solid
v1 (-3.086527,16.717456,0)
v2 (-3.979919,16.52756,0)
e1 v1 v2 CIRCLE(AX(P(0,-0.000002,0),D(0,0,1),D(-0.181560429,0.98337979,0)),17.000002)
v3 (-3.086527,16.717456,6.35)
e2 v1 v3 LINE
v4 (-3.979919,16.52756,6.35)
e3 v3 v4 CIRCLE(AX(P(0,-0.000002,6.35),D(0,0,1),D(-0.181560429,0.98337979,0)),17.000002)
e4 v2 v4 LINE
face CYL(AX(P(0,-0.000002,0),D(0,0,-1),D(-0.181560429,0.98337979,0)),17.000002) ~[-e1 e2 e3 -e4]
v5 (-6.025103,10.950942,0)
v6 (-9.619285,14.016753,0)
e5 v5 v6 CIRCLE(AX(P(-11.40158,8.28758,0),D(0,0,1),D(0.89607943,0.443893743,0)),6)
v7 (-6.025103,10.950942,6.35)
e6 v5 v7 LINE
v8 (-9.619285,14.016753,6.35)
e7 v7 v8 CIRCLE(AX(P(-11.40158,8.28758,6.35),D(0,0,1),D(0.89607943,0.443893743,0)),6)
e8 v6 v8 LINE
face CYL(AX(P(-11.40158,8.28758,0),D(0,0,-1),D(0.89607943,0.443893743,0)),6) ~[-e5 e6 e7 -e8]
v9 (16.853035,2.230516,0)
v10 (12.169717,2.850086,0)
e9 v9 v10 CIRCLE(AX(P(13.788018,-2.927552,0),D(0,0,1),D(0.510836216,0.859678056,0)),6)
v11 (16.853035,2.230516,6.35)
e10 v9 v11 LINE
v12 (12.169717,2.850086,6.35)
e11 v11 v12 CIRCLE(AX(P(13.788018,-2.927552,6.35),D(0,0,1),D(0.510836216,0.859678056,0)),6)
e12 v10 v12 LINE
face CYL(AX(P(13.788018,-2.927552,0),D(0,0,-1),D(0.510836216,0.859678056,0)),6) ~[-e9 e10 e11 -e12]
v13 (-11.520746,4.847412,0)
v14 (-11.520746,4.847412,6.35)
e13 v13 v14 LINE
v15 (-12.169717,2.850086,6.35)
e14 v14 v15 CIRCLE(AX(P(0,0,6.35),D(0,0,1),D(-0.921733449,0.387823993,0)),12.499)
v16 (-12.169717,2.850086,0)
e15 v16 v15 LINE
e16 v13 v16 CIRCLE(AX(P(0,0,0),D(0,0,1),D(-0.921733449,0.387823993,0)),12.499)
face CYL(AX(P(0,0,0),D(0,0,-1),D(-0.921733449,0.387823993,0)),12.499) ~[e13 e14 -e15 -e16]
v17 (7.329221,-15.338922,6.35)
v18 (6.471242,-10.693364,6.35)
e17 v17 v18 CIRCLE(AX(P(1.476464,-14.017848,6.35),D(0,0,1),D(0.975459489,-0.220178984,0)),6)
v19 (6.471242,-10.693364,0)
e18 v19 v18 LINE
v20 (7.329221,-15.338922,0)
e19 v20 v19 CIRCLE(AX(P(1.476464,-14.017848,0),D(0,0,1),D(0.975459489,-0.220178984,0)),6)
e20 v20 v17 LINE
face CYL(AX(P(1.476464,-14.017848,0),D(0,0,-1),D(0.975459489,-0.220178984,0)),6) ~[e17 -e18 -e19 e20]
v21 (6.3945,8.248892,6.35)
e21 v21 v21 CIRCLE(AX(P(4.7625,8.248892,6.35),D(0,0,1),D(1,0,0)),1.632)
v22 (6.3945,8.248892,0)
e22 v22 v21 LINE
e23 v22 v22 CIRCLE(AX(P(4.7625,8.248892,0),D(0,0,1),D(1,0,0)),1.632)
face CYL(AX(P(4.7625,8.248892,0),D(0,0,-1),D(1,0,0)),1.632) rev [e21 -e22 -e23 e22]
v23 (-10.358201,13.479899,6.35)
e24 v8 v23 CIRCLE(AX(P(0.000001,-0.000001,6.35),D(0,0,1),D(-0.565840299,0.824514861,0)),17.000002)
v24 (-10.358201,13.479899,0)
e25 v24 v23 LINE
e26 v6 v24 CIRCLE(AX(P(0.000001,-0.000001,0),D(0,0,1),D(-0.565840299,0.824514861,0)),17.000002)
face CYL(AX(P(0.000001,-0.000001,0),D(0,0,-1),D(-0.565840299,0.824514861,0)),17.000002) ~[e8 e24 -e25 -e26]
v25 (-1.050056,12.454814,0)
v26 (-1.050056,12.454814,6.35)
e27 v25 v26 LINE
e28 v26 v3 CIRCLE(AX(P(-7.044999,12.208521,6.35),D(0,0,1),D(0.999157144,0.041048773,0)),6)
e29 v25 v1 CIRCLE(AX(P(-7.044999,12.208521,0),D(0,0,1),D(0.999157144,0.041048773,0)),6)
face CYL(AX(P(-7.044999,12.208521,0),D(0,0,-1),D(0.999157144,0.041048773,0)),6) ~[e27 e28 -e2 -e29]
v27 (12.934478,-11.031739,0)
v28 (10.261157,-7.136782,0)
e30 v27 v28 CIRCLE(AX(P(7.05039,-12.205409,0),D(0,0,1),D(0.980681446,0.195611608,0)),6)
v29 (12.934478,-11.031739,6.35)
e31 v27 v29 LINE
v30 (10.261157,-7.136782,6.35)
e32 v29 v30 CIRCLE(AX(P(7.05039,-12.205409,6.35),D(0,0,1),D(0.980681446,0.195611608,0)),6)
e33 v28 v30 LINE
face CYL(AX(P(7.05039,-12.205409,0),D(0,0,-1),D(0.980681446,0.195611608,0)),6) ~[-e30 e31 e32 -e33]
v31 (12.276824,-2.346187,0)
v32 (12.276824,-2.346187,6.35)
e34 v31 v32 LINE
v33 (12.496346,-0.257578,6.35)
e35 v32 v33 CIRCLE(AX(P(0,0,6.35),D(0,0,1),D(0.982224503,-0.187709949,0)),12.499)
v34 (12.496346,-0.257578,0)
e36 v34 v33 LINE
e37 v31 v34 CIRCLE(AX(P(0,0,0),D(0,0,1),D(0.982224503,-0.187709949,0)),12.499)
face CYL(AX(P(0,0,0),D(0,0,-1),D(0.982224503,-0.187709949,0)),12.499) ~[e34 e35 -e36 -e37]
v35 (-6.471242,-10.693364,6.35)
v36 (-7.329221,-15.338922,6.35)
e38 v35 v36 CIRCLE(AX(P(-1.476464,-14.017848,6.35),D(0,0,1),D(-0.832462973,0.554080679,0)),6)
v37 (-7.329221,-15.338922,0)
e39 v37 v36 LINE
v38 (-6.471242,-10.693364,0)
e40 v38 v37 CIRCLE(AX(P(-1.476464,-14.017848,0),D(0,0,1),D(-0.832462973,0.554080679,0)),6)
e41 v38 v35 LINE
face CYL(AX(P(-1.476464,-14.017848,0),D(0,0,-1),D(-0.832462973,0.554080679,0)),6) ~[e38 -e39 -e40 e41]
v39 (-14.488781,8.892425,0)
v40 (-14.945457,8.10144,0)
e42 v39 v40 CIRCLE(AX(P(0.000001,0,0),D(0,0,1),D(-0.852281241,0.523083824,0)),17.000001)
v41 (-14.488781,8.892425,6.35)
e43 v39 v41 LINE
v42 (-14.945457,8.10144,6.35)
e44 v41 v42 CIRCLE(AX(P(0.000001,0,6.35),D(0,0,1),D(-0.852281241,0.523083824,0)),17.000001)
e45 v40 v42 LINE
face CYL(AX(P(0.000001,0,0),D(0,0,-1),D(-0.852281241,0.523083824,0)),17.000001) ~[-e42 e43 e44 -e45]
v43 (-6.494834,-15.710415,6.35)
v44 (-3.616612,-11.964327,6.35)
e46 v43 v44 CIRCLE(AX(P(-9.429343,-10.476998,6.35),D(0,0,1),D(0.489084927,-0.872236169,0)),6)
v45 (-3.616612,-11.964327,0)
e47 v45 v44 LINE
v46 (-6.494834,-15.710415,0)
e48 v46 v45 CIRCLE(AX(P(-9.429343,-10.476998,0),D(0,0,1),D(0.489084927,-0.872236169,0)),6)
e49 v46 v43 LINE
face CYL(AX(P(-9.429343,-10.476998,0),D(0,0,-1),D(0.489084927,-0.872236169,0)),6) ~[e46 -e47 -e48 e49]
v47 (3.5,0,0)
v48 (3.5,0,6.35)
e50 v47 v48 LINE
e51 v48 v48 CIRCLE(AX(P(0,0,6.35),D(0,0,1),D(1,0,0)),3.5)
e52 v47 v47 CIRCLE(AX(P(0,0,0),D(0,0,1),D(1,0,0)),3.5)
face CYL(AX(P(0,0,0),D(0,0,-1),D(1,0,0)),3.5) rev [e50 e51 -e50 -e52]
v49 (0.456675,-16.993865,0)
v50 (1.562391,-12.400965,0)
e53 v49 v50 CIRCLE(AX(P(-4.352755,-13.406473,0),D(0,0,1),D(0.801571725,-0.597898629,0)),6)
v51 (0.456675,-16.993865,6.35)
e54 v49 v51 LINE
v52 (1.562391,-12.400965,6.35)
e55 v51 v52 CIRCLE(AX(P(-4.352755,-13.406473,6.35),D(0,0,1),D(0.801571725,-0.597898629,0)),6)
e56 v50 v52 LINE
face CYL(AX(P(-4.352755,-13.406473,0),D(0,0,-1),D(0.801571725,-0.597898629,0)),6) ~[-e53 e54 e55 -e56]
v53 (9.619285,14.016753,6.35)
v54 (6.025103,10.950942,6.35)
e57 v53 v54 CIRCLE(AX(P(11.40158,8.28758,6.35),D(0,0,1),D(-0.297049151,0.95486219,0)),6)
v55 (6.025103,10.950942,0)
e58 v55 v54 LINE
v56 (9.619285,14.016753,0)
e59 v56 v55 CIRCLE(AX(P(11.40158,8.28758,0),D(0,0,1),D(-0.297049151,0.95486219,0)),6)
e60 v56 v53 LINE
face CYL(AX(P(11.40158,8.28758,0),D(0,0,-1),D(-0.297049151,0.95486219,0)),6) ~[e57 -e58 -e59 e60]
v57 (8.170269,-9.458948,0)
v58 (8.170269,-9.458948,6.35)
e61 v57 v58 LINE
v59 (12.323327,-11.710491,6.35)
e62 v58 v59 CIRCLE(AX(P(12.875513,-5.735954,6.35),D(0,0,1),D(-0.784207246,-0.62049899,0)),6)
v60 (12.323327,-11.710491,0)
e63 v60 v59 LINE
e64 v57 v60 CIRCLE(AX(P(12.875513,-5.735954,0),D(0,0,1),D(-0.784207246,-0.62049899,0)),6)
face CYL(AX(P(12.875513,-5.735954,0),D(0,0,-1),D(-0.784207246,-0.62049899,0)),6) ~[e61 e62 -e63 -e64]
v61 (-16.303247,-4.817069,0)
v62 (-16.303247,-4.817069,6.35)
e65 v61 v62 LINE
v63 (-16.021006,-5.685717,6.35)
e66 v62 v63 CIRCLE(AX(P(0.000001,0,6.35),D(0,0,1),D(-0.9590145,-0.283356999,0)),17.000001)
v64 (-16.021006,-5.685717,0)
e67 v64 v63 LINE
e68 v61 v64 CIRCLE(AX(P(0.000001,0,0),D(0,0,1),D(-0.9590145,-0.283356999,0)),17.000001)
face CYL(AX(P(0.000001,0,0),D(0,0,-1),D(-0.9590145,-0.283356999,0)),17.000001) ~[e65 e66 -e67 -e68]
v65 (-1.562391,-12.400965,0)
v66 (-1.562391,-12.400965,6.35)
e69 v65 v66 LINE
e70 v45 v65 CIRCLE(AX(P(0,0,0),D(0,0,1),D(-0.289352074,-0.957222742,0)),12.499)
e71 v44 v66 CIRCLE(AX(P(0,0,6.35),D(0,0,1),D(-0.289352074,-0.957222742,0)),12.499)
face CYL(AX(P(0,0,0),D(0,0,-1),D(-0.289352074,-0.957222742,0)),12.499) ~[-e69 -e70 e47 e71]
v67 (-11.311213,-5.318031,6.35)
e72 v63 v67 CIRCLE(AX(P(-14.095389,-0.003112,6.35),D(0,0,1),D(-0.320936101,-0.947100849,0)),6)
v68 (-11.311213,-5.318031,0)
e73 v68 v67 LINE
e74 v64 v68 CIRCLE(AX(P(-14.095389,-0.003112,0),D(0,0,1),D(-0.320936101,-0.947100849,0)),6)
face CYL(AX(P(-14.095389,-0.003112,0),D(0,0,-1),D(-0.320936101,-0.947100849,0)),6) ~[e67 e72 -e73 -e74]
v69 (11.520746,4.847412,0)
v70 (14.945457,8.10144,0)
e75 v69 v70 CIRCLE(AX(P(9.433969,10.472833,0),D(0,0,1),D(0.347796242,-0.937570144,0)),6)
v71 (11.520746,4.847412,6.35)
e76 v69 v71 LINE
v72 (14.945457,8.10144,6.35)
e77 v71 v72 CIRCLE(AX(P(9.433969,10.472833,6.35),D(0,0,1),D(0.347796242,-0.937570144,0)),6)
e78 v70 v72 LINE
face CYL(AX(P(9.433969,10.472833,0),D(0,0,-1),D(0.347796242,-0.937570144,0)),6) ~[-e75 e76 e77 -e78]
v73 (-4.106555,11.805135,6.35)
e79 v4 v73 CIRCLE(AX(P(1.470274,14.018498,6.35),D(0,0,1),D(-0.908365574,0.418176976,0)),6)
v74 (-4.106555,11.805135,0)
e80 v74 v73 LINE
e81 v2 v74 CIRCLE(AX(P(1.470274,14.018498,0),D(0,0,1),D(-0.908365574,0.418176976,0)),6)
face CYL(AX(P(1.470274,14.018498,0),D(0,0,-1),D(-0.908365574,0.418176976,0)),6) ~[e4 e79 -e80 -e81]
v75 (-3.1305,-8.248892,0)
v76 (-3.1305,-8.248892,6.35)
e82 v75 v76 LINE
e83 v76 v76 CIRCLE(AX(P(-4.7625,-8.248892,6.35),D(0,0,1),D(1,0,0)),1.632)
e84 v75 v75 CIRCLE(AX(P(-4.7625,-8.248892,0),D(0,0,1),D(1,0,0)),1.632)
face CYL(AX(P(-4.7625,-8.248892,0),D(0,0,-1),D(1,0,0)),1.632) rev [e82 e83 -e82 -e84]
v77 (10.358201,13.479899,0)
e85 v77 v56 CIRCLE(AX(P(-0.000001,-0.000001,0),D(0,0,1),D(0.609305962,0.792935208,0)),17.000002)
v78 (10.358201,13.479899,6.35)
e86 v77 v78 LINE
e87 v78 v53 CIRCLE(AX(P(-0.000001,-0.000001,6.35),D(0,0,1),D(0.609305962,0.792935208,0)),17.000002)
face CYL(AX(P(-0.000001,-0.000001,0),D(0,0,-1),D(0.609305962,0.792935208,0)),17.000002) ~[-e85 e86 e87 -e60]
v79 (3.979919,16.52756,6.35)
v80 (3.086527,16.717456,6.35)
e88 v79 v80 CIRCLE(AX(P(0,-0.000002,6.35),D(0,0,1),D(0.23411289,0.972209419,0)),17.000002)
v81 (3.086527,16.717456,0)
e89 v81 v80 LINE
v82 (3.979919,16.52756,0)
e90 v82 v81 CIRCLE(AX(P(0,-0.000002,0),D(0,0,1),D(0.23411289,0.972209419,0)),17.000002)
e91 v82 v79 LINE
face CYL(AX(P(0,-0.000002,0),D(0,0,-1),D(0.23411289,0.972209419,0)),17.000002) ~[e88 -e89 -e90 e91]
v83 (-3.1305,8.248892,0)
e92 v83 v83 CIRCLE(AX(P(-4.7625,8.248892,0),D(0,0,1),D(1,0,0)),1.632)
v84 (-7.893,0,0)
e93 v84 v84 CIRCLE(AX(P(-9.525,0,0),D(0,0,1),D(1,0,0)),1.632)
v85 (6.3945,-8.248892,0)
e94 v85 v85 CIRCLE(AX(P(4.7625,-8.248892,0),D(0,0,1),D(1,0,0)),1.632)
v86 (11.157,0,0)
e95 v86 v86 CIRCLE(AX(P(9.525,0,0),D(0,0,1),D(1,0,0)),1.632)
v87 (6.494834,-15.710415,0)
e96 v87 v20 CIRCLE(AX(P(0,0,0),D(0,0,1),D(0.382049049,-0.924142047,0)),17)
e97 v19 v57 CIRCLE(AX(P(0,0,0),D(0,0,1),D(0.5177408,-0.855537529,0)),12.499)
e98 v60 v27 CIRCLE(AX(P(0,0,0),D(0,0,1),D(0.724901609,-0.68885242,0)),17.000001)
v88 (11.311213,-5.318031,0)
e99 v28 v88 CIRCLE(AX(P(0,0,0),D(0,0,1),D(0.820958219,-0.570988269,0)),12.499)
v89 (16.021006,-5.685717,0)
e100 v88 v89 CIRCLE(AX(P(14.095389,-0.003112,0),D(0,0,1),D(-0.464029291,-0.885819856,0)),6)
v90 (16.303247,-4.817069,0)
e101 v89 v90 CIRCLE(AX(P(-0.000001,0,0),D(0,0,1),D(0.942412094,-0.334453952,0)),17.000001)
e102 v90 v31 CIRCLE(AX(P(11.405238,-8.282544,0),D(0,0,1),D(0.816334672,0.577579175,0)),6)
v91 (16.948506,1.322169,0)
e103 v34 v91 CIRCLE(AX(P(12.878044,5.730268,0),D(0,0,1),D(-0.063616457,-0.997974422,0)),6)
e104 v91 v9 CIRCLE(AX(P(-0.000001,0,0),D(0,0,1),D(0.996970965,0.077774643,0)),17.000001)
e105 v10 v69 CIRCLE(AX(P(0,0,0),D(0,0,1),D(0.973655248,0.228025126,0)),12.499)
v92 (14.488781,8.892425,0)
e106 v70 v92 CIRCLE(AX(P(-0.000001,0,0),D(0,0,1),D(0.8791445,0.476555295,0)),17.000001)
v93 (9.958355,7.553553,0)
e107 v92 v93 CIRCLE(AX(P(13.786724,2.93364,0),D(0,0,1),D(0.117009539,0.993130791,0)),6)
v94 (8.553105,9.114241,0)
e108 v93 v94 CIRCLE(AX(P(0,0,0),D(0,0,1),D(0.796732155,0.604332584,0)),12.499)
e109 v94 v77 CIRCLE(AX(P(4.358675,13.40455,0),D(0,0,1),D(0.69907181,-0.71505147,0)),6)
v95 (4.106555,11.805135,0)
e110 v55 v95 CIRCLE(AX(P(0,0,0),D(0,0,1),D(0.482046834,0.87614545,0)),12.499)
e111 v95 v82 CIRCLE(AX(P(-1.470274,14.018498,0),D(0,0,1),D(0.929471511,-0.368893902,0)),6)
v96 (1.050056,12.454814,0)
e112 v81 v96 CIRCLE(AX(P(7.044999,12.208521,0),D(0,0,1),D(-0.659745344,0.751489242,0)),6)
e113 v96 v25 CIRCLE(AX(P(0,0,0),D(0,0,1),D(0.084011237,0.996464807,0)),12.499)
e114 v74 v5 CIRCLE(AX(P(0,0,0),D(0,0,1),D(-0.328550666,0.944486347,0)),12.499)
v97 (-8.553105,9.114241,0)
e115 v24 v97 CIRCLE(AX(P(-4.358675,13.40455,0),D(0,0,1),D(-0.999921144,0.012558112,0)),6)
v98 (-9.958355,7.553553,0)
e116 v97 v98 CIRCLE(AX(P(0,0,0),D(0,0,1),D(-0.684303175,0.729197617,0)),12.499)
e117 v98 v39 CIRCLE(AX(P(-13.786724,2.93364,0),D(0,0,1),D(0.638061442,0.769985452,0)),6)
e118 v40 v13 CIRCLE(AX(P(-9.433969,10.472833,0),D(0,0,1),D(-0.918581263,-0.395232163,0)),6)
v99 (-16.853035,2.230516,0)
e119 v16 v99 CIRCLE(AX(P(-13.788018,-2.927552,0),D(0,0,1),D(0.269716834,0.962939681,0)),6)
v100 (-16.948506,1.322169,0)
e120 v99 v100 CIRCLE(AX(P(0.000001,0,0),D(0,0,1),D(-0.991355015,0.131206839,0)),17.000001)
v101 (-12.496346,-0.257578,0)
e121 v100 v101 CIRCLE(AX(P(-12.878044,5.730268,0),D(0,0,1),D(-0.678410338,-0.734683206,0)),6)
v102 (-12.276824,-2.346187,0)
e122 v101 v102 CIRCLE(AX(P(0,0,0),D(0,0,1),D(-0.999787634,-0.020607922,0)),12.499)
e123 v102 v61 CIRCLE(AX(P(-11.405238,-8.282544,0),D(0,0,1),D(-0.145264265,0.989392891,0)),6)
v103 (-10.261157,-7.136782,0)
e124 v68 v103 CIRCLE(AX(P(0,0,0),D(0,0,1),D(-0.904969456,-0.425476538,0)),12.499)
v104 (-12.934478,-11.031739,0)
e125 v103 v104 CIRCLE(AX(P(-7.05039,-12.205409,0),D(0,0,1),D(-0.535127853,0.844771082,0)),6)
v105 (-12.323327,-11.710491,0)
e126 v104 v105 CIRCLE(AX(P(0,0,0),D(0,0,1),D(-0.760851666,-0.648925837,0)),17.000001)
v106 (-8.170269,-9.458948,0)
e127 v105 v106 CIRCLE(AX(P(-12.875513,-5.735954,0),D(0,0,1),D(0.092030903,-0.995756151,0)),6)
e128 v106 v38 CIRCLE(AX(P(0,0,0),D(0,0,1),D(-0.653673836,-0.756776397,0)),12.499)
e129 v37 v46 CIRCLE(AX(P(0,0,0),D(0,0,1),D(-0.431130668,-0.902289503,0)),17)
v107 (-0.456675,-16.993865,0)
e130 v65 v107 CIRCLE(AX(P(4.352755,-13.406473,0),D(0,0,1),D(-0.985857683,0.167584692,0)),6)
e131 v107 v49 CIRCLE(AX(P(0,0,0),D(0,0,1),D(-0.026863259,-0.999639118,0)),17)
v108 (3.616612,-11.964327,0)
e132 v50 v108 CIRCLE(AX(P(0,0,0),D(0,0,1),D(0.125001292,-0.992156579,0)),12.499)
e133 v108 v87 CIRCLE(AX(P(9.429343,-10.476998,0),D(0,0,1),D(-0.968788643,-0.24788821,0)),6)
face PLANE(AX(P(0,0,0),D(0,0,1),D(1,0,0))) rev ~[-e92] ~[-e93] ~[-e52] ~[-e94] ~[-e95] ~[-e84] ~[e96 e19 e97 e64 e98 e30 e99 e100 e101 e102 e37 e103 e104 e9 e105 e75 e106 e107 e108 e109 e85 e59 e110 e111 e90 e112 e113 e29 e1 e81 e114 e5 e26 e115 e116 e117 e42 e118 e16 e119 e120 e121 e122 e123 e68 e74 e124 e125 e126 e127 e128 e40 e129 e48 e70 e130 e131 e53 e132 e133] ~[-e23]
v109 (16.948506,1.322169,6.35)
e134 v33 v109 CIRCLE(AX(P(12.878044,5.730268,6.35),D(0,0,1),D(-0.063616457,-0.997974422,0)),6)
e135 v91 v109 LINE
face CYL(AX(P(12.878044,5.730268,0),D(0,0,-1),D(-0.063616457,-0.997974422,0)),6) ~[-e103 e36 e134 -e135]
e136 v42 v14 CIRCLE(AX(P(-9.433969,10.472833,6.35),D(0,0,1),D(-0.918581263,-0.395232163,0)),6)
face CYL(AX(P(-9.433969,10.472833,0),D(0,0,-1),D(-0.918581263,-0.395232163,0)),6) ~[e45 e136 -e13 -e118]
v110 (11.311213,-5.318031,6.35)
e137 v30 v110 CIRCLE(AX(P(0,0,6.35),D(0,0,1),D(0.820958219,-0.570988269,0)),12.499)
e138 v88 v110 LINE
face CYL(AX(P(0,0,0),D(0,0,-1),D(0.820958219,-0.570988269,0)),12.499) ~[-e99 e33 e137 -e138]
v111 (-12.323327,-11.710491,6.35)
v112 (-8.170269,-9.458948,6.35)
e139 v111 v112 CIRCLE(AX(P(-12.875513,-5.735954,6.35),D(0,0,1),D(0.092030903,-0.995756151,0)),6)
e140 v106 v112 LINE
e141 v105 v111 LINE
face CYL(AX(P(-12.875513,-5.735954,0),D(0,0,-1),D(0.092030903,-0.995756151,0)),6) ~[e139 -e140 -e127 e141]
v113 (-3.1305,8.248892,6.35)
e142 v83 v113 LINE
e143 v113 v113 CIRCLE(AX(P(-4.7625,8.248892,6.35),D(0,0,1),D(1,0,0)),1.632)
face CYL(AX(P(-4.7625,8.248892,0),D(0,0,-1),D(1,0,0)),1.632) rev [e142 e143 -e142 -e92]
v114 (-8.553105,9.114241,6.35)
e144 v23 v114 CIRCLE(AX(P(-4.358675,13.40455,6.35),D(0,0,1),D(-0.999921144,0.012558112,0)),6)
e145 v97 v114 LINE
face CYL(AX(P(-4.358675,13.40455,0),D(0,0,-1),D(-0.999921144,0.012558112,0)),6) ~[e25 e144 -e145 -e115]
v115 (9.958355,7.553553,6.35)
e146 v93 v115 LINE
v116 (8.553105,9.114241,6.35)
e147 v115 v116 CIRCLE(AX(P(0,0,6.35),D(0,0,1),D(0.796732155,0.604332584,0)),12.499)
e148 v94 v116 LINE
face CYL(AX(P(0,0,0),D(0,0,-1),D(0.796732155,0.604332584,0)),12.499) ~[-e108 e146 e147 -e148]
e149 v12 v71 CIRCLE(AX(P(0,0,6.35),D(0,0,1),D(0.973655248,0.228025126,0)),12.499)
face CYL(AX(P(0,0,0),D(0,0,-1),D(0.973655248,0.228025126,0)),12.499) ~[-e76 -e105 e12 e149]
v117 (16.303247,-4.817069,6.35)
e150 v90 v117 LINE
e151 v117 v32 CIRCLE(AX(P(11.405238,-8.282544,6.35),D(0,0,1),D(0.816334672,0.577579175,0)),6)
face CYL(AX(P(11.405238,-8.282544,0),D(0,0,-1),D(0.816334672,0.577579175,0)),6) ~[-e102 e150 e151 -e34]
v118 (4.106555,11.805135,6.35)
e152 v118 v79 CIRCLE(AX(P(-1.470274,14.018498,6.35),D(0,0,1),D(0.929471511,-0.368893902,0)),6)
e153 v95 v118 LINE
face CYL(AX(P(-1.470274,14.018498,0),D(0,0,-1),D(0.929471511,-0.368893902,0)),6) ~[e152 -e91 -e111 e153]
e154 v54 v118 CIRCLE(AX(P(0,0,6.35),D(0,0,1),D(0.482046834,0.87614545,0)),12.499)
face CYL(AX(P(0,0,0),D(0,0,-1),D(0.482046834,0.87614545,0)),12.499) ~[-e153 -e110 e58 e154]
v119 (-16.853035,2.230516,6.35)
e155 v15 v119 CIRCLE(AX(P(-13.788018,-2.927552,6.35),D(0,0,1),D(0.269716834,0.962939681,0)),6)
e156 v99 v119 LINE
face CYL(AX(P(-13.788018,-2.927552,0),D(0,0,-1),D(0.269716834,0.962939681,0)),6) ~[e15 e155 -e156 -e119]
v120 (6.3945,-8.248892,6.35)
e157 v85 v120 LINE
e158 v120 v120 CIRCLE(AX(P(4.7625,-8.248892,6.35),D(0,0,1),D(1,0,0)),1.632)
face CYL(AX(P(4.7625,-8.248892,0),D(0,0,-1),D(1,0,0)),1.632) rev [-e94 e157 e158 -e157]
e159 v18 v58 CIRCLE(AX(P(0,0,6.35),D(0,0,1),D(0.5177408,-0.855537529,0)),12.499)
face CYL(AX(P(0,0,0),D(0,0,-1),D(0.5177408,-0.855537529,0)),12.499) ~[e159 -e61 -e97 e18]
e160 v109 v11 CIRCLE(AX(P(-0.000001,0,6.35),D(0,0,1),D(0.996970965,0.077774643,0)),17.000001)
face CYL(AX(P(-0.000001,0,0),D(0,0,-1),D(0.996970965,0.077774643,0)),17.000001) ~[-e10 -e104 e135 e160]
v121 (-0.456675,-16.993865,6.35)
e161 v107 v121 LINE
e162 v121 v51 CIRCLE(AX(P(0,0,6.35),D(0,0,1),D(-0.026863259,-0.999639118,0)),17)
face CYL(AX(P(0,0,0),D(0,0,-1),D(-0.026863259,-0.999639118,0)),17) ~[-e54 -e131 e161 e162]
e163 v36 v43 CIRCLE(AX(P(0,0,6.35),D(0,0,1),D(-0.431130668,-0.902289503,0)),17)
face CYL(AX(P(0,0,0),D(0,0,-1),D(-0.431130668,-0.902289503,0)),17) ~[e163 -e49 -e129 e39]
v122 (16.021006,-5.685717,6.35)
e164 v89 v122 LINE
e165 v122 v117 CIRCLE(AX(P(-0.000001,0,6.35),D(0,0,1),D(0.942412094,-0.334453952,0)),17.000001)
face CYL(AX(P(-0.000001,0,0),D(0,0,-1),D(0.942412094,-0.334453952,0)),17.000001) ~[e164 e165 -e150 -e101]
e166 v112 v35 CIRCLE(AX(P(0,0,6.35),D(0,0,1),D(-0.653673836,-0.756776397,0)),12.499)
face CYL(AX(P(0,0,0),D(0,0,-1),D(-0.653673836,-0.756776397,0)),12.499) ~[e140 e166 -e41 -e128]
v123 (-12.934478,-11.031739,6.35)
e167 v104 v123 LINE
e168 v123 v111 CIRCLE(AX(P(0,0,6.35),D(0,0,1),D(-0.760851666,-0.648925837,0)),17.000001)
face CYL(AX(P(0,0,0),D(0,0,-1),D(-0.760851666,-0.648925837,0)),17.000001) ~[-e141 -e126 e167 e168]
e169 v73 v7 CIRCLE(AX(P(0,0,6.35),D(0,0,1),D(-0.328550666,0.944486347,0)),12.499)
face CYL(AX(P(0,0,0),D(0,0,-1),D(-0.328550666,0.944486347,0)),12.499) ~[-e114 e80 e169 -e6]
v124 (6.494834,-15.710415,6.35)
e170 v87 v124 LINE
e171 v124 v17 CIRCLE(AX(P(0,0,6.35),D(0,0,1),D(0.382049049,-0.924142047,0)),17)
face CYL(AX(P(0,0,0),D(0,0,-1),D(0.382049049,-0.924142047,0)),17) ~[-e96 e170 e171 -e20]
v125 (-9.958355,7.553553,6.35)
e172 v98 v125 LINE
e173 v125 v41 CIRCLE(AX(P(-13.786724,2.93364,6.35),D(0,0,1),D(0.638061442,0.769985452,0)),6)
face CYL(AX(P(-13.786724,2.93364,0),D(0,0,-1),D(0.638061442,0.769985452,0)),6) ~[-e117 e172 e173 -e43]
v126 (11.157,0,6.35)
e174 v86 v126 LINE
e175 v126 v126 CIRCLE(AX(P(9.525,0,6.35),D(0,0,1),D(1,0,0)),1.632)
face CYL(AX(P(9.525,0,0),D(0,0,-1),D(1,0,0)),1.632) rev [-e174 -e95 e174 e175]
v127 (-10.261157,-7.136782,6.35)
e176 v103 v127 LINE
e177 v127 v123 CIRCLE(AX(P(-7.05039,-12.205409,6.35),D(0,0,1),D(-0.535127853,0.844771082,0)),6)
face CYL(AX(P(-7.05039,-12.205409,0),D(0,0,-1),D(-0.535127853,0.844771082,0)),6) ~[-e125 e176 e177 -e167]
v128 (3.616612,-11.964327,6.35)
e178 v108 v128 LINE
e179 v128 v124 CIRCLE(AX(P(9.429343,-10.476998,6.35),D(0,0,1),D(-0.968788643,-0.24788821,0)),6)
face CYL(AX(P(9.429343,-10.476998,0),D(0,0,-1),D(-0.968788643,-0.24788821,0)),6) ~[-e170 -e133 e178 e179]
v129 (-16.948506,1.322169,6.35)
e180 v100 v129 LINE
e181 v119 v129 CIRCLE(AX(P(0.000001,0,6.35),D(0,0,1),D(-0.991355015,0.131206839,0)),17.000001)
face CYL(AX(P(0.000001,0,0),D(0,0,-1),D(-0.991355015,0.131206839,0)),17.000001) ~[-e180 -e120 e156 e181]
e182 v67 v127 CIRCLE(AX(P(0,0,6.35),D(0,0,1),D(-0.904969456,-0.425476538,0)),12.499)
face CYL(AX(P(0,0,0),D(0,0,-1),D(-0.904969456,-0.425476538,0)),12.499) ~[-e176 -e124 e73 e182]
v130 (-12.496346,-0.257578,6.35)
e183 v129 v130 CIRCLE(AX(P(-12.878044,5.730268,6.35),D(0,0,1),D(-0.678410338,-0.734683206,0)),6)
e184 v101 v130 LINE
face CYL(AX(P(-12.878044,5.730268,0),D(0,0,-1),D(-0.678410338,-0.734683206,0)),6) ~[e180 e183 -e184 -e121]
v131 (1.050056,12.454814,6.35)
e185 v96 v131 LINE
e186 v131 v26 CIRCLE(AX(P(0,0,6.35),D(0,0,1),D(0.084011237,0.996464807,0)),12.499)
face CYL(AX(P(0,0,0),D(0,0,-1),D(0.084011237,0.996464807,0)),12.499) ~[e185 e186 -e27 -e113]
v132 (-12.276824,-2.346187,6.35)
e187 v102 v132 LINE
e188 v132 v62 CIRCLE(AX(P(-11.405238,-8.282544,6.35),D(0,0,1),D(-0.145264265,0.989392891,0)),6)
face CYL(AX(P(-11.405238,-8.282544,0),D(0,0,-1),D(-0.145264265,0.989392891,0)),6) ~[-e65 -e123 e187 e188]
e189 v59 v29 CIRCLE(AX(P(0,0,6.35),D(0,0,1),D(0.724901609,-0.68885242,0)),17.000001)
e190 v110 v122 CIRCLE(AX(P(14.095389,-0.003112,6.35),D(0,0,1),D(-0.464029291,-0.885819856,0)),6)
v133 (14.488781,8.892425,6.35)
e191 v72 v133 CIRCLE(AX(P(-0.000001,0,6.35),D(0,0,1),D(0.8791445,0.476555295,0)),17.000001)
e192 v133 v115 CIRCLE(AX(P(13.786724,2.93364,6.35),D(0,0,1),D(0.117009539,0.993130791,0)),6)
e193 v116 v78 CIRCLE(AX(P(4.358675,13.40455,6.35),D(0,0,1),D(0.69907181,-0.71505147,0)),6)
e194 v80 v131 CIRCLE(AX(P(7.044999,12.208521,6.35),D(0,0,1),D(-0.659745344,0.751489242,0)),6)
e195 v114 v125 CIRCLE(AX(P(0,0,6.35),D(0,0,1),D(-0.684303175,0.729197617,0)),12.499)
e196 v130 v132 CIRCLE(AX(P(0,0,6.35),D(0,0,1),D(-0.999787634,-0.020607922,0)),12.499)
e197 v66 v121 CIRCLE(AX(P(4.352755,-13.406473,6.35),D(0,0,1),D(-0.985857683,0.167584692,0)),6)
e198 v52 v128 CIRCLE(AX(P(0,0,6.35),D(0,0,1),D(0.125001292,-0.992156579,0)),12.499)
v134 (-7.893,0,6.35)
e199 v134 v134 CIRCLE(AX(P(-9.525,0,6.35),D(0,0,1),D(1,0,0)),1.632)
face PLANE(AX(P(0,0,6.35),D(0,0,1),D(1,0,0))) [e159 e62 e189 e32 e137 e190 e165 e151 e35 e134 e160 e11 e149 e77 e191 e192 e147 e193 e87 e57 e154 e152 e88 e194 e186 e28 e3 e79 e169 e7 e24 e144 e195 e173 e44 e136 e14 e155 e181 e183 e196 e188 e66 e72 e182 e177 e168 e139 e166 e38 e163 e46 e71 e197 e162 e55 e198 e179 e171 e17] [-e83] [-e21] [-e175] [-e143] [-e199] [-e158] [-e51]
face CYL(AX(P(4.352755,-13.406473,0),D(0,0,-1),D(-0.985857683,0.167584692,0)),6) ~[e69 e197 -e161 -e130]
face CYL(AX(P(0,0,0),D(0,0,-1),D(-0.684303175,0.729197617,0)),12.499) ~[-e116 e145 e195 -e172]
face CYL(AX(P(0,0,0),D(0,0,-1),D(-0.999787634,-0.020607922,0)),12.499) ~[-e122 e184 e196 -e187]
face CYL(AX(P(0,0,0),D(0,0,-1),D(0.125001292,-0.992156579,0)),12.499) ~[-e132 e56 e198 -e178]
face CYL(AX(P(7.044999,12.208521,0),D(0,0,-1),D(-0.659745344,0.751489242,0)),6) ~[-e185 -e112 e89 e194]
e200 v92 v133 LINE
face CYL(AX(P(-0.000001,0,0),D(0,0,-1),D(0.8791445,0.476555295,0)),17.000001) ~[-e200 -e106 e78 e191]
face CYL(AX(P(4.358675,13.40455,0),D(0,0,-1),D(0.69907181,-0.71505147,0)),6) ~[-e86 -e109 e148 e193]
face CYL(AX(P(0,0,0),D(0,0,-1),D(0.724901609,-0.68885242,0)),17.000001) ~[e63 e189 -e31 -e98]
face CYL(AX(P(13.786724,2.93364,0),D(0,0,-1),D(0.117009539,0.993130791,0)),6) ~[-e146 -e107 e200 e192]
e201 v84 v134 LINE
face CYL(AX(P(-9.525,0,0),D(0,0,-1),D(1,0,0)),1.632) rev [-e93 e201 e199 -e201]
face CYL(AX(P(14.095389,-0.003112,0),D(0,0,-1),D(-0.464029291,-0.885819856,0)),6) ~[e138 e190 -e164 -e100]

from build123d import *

# Parameters (mm, degrees)
MODEL_R             = 1.632
MODEL_R_2           = 3.5
BOSS_EXTRUDE1_DEPTH = 6.35


with BuildPart() as part:
    # Model → Boss-Extrude1 (new body)
    with BuildSketch(Plane.XY):
        with BuildLine():
            ThreePointArc((-16.948506407, 1.322168893), (-14.884445144, 0.075680968), (-12.496345641, -0.2575784))
            ThreePointArc((-12.496345641, -0.2575784), (-12.43052917, -1.306501262), (-12.276824067, -2.346186657))
            ThreePointArc((-12.276824067, -2.346186657), (-14.543449347, -3.168677314), (-16.303246508, -4.817068954))
            ThreePointArc((-16.303246508, -4.817068954), (-16.167960777, -5.253288904), (-16.021005579, -5.685717215))
            ThreePointArc((-16.021005579, -5.685717215), (-13.628399474, -5.984911247), (-11.311213223, -5.318031254))
            ThreePointArc((-11.311213223, -5.318031254), (-10.824451522, -6.2495), (-10.261156776, -7.136782372))
            ThreePointArc((-10.261156776, -7.136782372), (-11.997284916, -8.810084533), (-12.934478336, -11.031739218))
            ThreePointArc((-12.934478336, -11.031739218), (-12.633462033, -11.375220308), (-12.32332734, -11.710491163))
            ThreePointArc((-12.32332734, -11.710491163), (-10.015879724, -11.010657936), (-8.170269281, -9.458948191))
            ThreePointArc((-8.170269281, -9.458948191), (-7.346727868, -10.111903413), (-6.471242258, -10.693363579))
            ThreePointArc((-6.471242258, -10.693363579), (-7.376680931, -12.9281481), (-7.329221354, -15.338921551))
            ThreePointArc((-7.329221354, -15.338921551), (-6.914522932, -15.53027278), (-6.49483385, -15.710414802))
            ThreePointArc((-6.49483385, -15.710414802), (-4.671523379, -14.13256184), (-3.616611555, -11.964327054))
            ThreePointArc((-3.616611555, -11.964327054), (-2.598688224, -12.225866862), (-1.562391165, -12.400965077))
            ThreePointArc((-1.562391165, -12.400965077), (-1.480581798, -14.810817411), (-0.456675416, -16.993864998))
            ThreePointArc((-0.456675416, -16.993864998), (0, -17), (0.456675416, -16.993864998))
            ThreePointArc((0.456675416, -16.993864998), (1.480581798, -14.810817411), (1.562391165, -12.400965077))
            ThreePointArc((1.562391165, -12.400965077), (2.598688224, -12.225866862), (3.616611555, -11.964327054))
            ThreePointArc((3.616611555, -11.964327054), (4.671523379, -14.13256184), (6.49483385, -15.710414802))
            ThreePointArc((6.49483385, -15.710414802), (6.914522932, -15.53027278), (7.329221354, -15.338921551))
            ThreePointArc((7.329221354, -15.338921551), (7.376680931, -12.9281481), (6.471242258, -10.693363579))
            ThreePointArc((6.471242258, -10.693363579), (7.346727868, -10.111903413), (8.170269281, -9.458948191))
            ThreePointArc((8.170269281, -9.458948191), (10.015879724, -11.010657936), (12.32332734, -11.710491163))
            ThreePointArc((12.32332734, -11.710491163), (12.633462033, -11.375220308), (12.934478336, -11.031739218))
            ThreePointArc((12.934478336, -11.031739218), (11.997284916, -8.810084533), (10.261156776, -7.136782372))
            ThreePointArc((10.261156776, -7.136782372), (10.824451522, -6.2495), (11.311213223, -5.318031254))
            ThreePointArc((11.311213223, -5.318031254), (13.628399474, -5.984911247), (16.021005579, -5.685717215))
            ThreePointArc((16.021005579, -5.685717215), (16.167960777, -5.253288904), (16.303246508, -4.817068954))
            ThreePointArc((16.303246508, -4.817068954), (14.543449347, -3.168677314), (12.276824067, -2.346186657))
            ThreePointArc((12.276824067, -2.346186657), (12.43052917, -1.306501262), (12.496345641, -0.2575784))
            ThreePointArc((12.496345641, -0.2575784), (14.884445144, 0.075680968), (16.948506407, 1.322168893))
            ThreePointArc((16.948506407, 1.322168893), (16.906872221, 1.776983876), (16.853035248, 2.230516294))
            ThreePointArc((16.853035248, 2.230516294), (14.574919264, 3.020622999), (12.169716946, 2.850086045))
            ThreePointArc((12.169716946, 2.850086045), (11.887255397, 3.862403413), (11.520746371, 4.847412099))
            ThreePointArc((11.520746371, 4.847412099), (13.566835028, 6.123187257), (14.945456505, 8.101439987))
            ThreePointArc((14.945456505, 8.101439987), (14.722431864, 8.5), (14.488781088, 8.892425011))
            ThreePointArc((14.488781088, 8.892425011), (12.08625323, 8.687630155), (9.958355206, 7.553552978))
            ThreePointArc((9.958355206, 7.553552978), (9.288567174, 8.363463449), (8.553105391, 9.114241009))
            ThreePointArc((8.553105391, 9.114241009), (9.903395884, 11.111938841), (10.358201398, 13.479898509))
            ThreePointArc((10.358201398, 13.479898509), (9.992349289, 13.753288904), (9.619285053, 14.016752658))
            ThreePointArc((9.619285053, 14.016752658), (7.507764213, 12.852467132), (6.025103383, 10.950941979))
            ThreePointArc((6.025103383, 10.950941979), (5.083801302, 11.418404675), (4.106554786, 11.805134848))
            ThreePointArc((4.106554786, 11.805134848), (4.527569623, 14.179335251), (3.979919168, 16.527560117))
            ThreePointArc((3.979919168, 16.527560117), (3.534498744, 16.628509212), (3.086527243, 16.717456433))
            ThreePointArc((3.086527243, 16.717456433), (1.631114557, 14.794995781), (1.050056448, 12.454813626))
            ThreePointArc((1.050056448, 12.454813626), (0, 12.499), (-1.050056448, 12.454813626))
            ThreePointArc((-1.050056448, 12.454813626), (-1.631114557, 14.79499578), (-3.086527243, 16.717456433))
            ThreePointArc((-3.086527243, 16.717456433), (-3.534498744, 16.628509212), (-3.979919168, 16.527560117))
            ThreePointArc((-3.979919168, 16.527560117), (-4.527569623, 14.179335251), (-4.106554786, 11.805134848))
            ThreePointArc((-4.106554786, 11.805134848), (-5.083801302, 11.418404675), (-6.025103383, 10.950941979))
            ThreePointArc((-6.025103383, 10.950941979), (-7.507764213, 12.852467132), (-9.619285053, 14.016752658))
            ThreePointArc((-9.619285053, 14.016752658), (-9.992349289, 13.753288904), (-10.358201398, 13.479898509))
            ThreePointArc((-10.358201398, 13.479898509), (-9.903395884, 11.111938841), (-8.553105391, 9.114241009))
            ThreePointArc((-8.553105391, 9.114241009), (-9.288567174, 8.363463449), (-9.958355206, 7.553552978))
            ThreePointArc((-9.958355206, 7.553552978), (-12.08625323, 8.687630155), (-14.488781088, 8.892425011))
            ThreePointArc((-14.488781088, 8.892425011), (-14.722431864, 8.5), (-14.945456505, 8.101439987))
            ThreePointArc((-14.945456505, 8.101439987), (-13.566835028, 6.123187257), (-11.520746371, 4.847412099))
            ThreePointArc((-11.520746371, 4.847412099), (-11.887255397, 3.862403413), (-12.169716946, 2.850086045))
            ThreePointArc((-12.169716946, 2.850086045), (-14.574919264, 3.020622999), (-16.853035248, 2.230516294))
            ThreePointArc((-16.853035248, 2.230516294), (-16.906872221, 1.776983876), (-16.948506407, 1.322168893))
        make_face()
        with Locations((-4.7625, -8.248891971)):
            Circle(MODEL_R, mode=Mode.SUBTRACT)
        with Locations((4.7625, -8.248891971)):
            Circle(MODEL_R, mode=Mode.SUBTRACT)
        with Locations((9.525, 0)):
            Circle(MODEL_R, mode=Mode.SUBTRACT)
        with Locations((4.7625, 8.248891971)):
            Circle(MODEL_R, mode=Mode.SUBTRACT)
        with Locations((-4.7625, 8.248891971)):
            Circle(MODEL_R, mode=Mode.SUBTRACT)
        with Locations((-9.525, 0)):
            Circle(MODEL_R, mode=Mode.SUBTRACT)
        Circle(MODEL_R_2, mode=Mode.SUBTRACT)
    extrude(amount=BOSS_EXTRUDE1_DEPTH)


solid = part.part
